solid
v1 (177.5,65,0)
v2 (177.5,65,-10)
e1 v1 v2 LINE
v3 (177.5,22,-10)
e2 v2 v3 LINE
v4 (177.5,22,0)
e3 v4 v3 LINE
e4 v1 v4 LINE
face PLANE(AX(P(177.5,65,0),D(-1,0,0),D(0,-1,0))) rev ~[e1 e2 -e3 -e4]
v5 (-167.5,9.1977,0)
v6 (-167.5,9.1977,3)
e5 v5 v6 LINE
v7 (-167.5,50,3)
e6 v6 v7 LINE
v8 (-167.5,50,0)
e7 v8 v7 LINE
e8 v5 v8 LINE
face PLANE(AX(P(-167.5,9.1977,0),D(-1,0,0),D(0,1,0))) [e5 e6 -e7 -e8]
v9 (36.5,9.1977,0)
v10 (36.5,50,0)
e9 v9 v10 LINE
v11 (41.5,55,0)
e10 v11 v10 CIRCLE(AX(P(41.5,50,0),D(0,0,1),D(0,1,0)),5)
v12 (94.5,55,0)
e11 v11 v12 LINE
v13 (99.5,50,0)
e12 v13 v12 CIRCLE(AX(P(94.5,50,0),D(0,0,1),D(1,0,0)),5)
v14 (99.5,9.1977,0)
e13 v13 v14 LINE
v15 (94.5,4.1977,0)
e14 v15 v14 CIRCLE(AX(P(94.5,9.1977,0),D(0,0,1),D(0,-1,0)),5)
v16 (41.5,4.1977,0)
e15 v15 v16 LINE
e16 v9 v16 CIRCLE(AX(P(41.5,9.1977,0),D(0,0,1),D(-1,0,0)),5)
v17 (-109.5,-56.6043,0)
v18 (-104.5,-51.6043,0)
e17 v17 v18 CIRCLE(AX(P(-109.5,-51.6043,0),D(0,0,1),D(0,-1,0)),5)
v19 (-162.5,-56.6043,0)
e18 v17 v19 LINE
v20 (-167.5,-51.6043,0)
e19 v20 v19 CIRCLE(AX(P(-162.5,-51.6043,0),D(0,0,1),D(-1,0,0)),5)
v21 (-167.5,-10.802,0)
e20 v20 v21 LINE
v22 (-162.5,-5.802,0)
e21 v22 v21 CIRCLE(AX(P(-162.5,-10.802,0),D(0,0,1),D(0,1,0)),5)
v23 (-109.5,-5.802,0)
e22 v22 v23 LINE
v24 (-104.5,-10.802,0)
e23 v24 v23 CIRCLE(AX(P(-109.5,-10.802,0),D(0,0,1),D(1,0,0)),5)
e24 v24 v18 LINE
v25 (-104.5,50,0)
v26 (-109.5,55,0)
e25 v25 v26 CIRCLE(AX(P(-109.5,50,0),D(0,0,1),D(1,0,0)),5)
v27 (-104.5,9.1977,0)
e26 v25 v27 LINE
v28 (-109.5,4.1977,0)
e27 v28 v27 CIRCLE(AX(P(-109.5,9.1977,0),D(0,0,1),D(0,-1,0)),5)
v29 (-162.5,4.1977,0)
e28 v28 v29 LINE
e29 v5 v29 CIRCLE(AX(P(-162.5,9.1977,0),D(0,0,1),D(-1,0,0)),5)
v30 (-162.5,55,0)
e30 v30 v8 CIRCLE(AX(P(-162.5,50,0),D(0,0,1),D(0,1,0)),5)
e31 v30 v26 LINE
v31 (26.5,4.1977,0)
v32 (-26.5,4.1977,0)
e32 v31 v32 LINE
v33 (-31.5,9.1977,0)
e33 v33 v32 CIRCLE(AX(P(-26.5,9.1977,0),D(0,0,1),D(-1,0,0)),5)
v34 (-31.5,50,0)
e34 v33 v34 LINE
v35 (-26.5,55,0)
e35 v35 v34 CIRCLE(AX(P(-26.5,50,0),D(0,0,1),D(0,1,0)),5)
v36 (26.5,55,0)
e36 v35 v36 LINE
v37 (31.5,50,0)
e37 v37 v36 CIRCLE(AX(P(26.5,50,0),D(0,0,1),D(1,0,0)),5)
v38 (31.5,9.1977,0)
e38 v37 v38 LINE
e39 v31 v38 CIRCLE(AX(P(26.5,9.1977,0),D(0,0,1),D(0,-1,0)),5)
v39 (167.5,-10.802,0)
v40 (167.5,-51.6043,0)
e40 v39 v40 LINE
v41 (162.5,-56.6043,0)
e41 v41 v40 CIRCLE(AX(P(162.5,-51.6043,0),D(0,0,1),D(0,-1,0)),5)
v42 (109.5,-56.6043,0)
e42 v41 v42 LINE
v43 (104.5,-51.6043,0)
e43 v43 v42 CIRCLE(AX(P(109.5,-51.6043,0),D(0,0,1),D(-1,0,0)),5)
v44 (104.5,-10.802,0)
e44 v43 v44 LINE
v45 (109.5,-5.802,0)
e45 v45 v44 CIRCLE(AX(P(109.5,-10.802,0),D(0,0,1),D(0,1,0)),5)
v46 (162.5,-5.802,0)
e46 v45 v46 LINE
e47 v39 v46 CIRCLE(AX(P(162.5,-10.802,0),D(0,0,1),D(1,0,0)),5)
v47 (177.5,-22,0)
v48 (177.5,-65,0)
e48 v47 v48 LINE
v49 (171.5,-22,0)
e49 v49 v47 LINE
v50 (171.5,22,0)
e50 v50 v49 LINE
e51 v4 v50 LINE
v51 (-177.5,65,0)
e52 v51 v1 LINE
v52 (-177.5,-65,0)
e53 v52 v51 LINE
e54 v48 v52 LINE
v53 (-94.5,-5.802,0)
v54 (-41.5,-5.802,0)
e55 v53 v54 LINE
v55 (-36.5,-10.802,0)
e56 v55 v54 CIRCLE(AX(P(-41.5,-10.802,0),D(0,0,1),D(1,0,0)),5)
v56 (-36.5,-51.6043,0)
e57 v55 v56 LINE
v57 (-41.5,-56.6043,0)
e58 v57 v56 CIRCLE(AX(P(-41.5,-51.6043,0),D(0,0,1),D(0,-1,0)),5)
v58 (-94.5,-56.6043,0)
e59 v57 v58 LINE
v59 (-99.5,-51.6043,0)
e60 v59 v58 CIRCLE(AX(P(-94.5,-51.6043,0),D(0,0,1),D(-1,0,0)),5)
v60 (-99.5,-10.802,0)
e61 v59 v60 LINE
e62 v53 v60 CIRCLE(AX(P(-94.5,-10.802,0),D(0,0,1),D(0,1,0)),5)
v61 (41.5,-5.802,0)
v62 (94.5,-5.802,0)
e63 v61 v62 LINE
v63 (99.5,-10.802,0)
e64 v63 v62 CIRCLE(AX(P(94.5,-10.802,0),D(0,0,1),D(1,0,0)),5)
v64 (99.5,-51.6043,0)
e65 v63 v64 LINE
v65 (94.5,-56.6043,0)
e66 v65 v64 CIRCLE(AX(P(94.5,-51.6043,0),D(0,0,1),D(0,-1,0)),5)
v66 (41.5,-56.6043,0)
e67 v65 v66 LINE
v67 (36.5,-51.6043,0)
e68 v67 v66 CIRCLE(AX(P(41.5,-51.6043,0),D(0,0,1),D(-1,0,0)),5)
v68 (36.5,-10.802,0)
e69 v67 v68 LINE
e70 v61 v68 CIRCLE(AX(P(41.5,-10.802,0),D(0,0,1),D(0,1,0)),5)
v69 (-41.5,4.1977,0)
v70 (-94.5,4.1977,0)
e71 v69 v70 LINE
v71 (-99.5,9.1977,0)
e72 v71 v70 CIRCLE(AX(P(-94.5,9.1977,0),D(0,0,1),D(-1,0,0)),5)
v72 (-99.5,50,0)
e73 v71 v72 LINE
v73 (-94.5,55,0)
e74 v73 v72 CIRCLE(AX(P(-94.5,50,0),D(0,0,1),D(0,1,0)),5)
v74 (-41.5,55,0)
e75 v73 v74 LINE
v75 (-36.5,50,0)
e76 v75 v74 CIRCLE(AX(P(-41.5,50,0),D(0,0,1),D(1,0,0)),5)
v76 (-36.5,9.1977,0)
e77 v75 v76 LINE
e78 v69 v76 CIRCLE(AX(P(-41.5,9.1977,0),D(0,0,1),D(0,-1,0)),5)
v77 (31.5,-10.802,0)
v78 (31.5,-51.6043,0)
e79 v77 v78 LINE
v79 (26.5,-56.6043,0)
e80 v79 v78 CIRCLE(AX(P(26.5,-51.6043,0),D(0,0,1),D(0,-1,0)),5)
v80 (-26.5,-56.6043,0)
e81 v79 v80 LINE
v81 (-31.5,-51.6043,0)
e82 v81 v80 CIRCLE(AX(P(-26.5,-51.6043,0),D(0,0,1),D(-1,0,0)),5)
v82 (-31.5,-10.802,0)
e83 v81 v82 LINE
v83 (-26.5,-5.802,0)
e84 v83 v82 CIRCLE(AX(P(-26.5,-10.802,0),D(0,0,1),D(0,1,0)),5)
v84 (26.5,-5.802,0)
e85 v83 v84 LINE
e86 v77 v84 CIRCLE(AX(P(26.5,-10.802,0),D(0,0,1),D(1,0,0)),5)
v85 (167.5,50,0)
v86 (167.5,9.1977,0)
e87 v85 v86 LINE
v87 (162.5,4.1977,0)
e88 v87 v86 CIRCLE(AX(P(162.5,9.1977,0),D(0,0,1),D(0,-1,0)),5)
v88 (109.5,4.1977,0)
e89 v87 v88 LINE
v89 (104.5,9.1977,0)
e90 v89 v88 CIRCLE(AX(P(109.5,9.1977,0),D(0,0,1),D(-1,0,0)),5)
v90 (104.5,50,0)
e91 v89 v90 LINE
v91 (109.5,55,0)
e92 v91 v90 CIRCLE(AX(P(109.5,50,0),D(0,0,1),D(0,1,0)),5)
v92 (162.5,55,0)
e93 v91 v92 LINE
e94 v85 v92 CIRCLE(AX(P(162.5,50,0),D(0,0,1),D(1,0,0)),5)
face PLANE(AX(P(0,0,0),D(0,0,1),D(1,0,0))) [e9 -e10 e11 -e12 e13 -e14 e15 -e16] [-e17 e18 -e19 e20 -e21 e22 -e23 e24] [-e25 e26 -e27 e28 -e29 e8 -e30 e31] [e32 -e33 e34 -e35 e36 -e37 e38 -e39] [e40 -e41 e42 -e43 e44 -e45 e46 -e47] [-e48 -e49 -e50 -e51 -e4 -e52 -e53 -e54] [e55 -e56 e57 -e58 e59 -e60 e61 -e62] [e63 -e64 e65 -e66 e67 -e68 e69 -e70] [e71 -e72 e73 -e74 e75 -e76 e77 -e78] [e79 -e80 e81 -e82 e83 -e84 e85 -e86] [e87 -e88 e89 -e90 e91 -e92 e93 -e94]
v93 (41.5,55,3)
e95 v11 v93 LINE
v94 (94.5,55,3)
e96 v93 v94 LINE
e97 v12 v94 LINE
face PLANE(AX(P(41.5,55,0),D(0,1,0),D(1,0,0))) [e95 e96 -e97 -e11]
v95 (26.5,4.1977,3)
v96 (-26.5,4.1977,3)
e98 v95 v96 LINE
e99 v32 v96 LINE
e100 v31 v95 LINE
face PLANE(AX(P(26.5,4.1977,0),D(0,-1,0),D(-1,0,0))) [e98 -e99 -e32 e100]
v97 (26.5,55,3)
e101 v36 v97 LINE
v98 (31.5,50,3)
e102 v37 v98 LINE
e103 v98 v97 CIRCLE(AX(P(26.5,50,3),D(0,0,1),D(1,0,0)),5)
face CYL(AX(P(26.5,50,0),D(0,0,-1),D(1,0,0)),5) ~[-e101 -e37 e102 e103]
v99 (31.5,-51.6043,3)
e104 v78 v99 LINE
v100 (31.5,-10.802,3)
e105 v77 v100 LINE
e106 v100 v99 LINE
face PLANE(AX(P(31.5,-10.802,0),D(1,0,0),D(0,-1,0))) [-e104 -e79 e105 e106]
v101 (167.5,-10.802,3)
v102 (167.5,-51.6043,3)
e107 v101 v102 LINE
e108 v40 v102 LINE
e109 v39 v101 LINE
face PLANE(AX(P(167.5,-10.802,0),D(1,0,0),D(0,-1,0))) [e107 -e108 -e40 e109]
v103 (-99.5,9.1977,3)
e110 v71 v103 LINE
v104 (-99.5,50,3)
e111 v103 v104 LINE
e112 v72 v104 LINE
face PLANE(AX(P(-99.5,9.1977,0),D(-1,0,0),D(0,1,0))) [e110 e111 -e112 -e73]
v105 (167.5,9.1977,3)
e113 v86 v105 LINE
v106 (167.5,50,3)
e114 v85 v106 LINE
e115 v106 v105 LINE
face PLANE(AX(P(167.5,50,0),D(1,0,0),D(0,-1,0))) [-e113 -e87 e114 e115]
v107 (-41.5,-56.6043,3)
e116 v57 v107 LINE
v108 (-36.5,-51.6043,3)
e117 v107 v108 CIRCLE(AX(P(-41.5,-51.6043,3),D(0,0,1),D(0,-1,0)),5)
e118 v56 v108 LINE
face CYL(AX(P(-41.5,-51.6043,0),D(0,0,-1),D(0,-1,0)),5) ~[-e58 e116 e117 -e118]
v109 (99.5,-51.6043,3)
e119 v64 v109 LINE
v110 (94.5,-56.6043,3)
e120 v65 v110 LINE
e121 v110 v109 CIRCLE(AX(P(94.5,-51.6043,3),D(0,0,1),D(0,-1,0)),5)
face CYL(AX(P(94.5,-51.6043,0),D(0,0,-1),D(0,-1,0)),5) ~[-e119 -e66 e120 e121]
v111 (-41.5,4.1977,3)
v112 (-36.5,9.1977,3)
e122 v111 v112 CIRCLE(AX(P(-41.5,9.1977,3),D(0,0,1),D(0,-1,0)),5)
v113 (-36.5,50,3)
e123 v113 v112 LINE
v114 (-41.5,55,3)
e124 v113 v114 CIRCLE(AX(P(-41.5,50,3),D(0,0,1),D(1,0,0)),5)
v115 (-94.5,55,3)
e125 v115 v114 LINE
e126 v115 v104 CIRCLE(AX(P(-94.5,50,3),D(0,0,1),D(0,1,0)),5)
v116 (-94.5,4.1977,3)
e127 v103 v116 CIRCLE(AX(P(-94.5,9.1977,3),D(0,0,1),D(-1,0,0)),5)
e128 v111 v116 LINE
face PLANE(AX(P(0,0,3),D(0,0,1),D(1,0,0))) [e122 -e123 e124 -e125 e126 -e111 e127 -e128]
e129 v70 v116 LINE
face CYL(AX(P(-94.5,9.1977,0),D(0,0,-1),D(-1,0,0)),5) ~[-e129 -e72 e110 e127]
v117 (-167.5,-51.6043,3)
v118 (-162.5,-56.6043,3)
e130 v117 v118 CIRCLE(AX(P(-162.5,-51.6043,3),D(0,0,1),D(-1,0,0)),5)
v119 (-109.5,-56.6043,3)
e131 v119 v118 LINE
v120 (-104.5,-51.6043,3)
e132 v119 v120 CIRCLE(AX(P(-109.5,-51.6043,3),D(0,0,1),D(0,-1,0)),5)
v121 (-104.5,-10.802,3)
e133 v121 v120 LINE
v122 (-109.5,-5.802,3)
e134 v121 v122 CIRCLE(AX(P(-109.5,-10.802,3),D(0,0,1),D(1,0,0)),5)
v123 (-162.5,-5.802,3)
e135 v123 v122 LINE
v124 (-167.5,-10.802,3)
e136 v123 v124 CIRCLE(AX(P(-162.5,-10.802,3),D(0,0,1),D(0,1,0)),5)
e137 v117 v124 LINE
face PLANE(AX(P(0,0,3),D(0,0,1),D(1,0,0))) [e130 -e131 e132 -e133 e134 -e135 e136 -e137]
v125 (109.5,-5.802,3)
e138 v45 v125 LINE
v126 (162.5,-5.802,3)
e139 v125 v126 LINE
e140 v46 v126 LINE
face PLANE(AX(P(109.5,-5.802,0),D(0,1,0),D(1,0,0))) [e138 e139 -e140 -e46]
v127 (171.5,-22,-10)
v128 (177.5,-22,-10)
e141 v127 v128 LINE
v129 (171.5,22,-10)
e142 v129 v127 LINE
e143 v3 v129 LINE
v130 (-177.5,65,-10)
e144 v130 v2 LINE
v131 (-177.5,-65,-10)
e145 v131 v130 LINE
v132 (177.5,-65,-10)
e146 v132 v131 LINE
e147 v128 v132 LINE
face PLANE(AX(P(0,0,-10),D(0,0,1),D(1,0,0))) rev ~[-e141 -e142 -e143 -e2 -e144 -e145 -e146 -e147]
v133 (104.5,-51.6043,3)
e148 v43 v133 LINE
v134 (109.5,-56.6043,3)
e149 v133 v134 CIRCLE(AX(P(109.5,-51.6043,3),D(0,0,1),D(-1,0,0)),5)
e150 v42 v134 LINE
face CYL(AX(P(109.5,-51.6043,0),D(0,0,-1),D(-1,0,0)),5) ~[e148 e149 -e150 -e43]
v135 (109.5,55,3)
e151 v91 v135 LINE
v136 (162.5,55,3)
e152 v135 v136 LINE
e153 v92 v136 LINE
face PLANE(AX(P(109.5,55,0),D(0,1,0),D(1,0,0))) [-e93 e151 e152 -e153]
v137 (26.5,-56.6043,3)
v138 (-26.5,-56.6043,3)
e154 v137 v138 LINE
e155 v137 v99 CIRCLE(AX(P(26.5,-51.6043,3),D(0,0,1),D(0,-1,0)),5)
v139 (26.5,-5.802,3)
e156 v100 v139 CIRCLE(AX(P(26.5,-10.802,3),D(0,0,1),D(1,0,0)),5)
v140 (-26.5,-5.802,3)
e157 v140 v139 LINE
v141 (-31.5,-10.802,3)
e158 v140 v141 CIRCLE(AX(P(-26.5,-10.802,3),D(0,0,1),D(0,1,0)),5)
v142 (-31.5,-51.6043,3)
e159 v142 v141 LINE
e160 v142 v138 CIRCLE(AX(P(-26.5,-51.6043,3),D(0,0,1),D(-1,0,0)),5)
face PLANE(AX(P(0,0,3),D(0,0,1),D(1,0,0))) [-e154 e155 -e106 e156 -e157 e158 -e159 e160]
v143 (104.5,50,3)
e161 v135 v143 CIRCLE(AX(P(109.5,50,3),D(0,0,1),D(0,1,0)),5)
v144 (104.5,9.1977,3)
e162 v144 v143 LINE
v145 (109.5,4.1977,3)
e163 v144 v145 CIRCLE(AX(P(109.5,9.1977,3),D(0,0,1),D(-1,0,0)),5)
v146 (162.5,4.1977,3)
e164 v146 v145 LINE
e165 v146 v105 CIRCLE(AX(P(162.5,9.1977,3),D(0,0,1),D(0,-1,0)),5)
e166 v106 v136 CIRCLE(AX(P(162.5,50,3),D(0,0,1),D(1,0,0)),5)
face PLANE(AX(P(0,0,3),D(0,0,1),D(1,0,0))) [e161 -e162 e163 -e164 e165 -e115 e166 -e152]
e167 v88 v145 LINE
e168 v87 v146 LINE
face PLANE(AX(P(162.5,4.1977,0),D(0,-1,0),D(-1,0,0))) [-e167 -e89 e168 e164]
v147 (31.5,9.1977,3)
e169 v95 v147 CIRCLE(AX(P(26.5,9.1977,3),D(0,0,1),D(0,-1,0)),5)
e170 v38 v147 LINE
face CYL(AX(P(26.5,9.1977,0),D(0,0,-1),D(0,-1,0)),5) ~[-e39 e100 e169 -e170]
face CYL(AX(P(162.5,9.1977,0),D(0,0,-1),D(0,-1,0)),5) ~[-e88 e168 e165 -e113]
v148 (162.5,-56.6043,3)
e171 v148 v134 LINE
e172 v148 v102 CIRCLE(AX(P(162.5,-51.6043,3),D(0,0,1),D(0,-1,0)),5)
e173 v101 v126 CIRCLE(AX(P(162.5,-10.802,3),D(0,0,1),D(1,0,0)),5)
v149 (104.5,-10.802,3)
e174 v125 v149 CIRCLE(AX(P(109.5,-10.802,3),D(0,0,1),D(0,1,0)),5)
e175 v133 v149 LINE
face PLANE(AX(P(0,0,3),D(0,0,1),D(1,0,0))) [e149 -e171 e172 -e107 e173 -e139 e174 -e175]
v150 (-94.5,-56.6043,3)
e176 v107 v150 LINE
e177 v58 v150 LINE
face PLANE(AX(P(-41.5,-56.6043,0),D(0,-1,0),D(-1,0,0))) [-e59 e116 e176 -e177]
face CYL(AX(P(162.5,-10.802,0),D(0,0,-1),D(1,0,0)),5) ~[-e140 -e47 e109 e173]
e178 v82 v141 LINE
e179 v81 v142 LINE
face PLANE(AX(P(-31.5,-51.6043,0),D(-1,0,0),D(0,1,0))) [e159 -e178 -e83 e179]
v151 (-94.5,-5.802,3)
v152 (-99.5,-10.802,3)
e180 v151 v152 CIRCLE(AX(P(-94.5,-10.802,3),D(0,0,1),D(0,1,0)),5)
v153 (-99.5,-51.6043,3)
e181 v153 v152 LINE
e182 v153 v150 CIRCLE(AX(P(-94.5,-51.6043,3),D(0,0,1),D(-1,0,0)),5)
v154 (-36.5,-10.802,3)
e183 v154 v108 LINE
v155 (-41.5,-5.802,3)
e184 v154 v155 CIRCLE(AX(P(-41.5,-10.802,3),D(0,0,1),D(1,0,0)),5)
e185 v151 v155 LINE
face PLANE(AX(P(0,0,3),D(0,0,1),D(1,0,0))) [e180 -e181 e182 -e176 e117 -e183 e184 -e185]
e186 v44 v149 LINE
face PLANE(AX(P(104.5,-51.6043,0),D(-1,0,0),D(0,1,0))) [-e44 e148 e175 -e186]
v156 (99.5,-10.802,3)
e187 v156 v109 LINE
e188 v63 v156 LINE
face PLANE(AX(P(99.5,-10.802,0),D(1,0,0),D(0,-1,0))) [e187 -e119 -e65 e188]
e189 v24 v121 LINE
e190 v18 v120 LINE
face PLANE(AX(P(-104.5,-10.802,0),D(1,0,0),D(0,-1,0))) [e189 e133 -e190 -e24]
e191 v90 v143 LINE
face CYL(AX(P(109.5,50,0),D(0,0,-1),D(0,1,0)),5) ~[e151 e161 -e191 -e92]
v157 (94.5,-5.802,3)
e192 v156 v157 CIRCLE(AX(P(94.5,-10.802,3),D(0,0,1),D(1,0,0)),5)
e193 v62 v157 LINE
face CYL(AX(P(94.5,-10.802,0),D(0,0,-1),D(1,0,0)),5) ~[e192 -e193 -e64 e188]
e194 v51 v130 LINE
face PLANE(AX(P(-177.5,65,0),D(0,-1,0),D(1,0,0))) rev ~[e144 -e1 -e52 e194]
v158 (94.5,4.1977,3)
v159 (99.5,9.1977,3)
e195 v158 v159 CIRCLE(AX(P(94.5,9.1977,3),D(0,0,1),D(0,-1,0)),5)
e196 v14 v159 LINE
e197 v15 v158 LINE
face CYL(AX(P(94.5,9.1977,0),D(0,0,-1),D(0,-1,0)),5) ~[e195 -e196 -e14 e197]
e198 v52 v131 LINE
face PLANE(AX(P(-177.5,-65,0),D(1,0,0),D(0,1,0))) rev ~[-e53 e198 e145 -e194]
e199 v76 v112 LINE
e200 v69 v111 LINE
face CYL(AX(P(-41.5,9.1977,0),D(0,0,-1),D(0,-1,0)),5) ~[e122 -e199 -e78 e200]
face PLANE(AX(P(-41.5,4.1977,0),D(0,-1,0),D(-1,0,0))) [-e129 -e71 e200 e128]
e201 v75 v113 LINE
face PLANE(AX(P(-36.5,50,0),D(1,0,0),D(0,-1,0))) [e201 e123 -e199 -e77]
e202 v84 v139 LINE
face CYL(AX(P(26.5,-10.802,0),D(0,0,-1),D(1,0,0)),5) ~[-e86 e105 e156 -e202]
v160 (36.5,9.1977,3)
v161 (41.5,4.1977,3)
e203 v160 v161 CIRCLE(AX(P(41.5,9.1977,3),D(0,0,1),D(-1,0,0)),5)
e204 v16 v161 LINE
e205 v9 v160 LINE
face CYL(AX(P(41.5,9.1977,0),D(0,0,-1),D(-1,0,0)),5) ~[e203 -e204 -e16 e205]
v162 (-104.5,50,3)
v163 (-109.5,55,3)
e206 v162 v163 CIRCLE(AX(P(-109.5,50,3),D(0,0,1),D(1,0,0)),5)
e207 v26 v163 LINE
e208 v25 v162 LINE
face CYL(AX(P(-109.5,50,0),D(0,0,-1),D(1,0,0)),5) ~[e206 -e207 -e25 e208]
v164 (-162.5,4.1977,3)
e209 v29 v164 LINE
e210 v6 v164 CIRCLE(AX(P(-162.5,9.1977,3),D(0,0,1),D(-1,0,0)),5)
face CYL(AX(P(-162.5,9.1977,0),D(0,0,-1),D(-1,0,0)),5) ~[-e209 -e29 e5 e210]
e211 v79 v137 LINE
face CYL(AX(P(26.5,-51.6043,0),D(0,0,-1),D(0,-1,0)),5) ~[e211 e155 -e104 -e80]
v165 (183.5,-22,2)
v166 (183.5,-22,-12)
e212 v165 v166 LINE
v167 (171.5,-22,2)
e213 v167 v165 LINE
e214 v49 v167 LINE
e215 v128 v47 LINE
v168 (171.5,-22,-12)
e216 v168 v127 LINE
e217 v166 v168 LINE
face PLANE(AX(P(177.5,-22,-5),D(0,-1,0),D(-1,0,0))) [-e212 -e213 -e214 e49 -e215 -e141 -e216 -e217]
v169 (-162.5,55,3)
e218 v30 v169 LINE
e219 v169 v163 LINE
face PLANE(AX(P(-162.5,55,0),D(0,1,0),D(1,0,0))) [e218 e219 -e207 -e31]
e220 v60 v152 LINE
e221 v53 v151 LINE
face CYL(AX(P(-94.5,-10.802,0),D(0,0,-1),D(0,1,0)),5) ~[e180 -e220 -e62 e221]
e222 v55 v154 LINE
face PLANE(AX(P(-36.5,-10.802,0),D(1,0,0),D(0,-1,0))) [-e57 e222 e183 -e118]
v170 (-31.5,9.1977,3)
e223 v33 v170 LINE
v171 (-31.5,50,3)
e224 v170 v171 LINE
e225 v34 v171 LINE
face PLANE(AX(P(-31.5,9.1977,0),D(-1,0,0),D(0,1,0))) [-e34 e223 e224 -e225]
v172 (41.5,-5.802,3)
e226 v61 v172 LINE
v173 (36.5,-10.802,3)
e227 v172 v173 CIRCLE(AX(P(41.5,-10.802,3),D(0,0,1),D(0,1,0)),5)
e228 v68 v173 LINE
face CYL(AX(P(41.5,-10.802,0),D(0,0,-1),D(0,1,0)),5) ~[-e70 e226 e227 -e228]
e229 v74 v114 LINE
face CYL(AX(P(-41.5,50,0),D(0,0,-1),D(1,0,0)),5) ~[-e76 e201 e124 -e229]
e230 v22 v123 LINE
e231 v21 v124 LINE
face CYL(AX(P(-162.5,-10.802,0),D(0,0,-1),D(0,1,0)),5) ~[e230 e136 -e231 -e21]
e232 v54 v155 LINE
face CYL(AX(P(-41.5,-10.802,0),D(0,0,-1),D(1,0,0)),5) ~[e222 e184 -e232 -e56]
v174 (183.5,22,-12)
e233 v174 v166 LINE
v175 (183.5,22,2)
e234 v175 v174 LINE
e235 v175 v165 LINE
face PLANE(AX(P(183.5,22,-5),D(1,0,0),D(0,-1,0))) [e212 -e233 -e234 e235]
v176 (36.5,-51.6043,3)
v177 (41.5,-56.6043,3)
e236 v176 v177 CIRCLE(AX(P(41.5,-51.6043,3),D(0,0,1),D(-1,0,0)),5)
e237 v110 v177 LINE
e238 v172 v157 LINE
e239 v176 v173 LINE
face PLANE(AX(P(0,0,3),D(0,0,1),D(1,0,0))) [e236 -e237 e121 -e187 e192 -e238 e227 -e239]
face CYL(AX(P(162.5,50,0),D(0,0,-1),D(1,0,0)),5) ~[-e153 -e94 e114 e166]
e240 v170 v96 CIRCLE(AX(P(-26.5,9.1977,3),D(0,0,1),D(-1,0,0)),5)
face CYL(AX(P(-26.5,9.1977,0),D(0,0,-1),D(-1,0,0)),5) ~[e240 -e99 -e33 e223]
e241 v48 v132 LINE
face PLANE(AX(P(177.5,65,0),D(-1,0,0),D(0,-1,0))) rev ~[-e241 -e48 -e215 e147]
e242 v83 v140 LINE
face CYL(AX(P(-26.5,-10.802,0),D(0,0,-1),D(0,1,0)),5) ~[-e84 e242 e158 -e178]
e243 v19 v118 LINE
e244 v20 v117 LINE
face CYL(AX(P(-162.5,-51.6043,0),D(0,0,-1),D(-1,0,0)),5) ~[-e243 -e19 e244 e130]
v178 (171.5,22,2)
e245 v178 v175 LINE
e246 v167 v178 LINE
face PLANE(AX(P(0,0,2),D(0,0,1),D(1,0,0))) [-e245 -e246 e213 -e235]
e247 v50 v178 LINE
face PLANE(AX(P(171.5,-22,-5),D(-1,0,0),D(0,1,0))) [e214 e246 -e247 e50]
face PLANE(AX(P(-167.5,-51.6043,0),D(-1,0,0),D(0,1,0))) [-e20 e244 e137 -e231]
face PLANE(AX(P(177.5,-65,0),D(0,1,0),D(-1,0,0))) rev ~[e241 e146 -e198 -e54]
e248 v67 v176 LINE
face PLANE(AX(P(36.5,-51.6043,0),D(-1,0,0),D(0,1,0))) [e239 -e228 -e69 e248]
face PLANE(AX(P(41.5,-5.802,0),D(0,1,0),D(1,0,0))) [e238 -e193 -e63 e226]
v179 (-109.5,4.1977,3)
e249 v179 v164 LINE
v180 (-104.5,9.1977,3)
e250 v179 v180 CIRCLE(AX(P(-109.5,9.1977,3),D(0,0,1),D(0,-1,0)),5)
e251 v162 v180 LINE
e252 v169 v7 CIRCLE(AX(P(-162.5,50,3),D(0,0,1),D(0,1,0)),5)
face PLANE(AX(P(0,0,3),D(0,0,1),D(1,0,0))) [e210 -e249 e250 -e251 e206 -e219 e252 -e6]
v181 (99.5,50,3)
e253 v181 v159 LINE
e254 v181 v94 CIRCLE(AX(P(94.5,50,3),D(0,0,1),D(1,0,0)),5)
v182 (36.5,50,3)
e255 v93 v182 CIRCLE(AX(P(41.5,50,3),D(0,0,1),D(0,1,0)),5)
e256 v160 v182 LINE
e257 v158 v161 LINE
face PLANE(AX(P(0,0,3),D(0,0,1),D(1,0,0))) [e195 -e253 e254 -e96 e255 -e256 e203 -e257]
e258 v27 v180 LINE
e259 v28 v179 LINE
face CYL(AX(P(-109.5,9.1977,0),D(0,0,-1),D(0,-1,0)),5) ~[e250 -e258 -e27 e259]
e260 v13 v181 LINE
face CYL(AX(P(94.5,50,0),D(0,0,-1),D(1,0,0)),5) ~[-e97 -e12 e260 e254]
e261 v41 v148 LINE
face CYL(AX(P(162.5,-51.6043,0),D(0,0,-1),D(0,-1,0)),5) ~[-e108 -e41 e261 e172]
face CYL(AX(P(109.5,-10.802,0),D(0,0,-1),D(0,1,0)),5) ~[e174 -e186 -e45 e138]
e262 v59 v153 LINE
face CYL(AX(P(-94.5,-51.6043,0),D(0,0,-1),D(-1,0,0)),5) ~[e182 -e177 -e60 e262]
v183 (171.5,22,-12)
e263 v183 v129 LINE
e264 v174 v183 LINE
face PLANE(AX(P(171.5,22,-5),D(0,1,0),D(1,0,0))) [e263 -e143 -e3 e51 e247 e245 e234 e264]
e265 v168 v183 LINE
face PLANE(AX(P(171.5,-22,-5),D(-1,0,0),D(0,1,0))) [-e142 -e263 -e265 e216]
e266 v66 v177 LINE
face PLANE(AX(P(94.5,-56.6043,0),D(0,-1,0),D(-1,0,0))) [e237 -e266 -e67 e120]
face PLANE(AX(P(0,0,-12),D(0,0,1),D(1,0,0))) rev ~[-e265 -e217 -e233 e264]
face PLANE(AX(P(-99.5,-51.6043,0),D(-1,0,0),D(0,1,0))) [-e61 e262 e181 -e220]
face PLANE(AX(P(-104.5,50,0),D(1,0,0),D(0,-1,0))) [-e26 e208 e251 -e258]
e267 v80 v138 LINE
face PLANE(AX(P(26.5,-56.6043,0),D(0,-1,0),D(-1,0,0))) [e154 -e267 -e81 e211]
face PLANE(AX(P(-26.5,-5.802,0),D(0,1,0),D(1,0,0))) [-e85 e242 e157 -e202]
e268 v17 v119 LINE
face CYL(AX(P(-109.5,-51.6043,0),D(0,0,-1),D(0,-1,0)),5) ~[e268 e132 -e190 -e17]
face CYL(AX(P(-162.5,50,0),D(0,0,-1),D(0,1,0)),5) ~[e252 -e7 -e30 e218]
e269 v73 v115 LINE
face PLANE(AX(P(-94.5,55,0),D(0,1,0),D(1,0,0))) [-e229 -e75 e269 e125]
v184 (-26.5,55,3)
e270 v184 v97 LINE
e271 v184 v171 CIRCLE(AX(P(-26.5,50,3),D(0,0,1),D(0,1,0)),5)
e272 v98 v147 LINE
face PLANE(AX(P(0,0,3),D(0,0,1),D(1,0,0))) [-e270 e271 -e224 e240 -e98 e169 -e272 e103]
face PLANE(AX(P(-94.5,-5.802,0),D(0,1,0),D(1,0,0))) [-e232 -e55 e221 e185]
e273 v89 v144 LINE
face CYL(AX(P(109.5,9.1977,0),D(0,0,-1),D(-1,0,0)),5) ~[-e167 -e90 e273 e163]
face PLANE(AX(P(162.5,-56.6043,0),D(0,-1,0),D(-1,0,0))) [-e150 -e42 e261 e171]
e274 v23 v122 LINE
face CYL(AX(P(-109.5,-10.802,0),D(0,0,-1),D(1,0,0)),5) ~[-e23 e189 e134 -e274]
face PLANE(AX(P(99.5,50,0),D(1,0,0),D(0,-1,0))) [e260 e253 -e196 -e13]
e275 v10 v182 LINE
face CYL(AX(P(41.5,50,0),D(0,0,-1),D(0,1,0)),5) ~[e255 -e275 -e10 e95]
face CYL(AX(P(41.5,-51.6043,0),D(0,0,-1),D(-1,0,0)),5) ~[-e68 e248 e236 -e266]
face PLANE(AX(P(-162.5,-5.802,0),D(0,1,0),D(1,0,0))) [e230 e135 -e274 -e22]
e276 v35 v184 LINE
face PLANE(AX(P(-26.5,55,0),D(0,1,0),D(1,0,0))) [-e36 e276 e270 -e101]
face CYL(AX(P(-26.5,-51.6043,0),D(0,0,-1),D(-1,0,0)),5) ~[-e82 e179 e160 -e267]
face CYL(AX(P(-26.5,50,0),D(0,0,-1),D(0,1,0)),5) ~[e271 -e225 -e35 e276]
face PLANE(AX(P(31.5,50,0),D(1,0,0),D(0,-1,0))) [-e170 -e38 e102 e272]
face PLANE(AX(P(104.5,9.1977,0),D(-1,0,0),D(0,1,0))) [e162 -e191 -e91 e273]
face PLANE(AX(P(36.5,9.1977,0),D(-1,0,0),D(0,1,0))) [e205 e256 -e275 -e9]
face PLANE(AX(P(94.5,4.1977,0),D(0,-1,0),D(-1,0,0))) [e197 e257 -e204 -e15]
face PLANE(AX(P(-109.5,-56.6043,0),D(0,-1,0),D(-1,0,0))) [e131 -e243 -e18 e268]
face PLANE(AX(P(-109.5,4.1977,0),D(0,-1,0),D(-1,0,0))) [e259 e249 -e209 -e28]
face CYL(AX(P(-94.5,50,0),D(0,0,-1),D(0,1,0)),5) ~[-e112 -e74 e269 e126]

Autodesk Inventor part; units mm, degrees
ref_plane "YZ Plane" through (0, 0, 0) normal (1, 0, 0) x (0, 1, 0)
ref_plane "XZ Plane" through (0, 0, 0) normal (0, 1, 0) x (-1, 0, 0)
sketch "Sketch1" plane through (0, 0, 0) normal (0, 0, 1) x (1, 0, 0)
  line L0 (-177.5, 65) -> (177.5, 65)
  line L1 (177.5, 65) -> (177.5, -65)
  line L2 (177.5, -65) -> (-177.5, -65)
  line L3 (-177.5, -65) -> (-177.5, 65)
  line L4 (-177.5, 65) -> (177.5, -65) construction
  line L5 (177.5, 65) -> (-177.5, -65) construction
  point P0 (0, 0)
  dimension "d0" = 355
  dimension "d1" = 130
extrude "Extrusion1" add sketch "Sketch1" against normal blind 10
sketch "Sketch2" plane through (0, 0, 0) normal (0, 0, 1) x (1, 0, 0)
  line L0 (-162.5, 55) -> (-109.5, 55)
  line L1 (-104.5, 50) -> (-104.5, 9.1977)
  line L2 (-109.5, 4.1977) -> (-162.5, 4.1977)
  line L3 (-167.5, 9.1977) -> (-167.5, 50)
  line L4 (-177.5, 65) -> (177.5, 65) projected
  line L5 (-177.5, -65) -> (-177.5, 65) projected
  arc A0 (-162.5, 55) -> (-167.5, 50) centre (-162.5, 50) ccw
  arc A1 (-104.5, 50) -> (-109.5, 55) centre (-109.5, 50) ccw
  arc A2 (-109.5, 4.1977) -> (-104.5, 9.1977) centre (-109.5, 9.1977) ccw
  arc A3 (-167.5, 9.1977) -> (-162.5, 4.1977) centre (-162.5, 9.1977) ccw
  line L6 (-94.5, 55) -> (-41.5, 55)
  line L7 (-36.5, 50) -> (-36.5, 9.1977)
  line L8 (-41.5, 4.1977) -> (-94.5, 4.1977)
  line L9 (-99.5, 9.1977) -> (-99.5, 50)
  arc A4 (-94.5, 55) -> (-99.5, 50) centre (-94.5, 50) ccw
  arc A5 (-36.5, 50) -> (-41.5, 55) centre (-41.5, 50) ccw
  arc A6 (-41.5, 4.1977) -> (-36.5, 9.1977) centre (-41.5, 9.1977) ccw
  arc A7 (-99.5, 9.1977) -> (-94.5, 4.1977) centre (-94.5, 9.1977) ccw
  line L10 (-26.5, 55) -> (26.5, 55)
  line L11 (31.5, 50) -> (31.5, 9.1977)
  line L12 (26.5, 4.1977) -> (-26.5, 4.1977)
  line L13 (-31.5, 9.1977) -> (-31.5, 50)
  arc A8 (-26.5, 55) -> (-31.5, 50) centre (-26.5, 50) ccw
  arc A9 (31.5, 50) -> (26.5, 55) centre (26.5, 50) ccw
  arc A10 (26.5, 4.1977) -> (31.5, 9.1977) centre (26.5, 9.1977) ccw
  arc A11 (-31.5, 9.1977) -> (-26.5, 4.1977) centre (-26.5, 9.1977) ccw
  line L14 (41.5, 55) -> (94.5, 55)
  line L15 (99.5, 50) -> (99.5, 9.1977)
  line L16 (94.5, 4.1977) -> (41.5, 4.1977)
  line L17 (36.5, 9.1977) -> (36.5, 50)
  arc A12 (41.5, 55) -> (36.5, 50) centre (41.5, 50) ccw
  arc A13 (99.5, 50) -> (94.5, 55) centre (94.5, 50) ccw
  arc A14 (94.5, 4.1977) -> (99.5, 9.1977) centre (94.5, 9.1977) ccw
  arc A15 (36.5, 9.1977) -> (41.5, 4.1977) centre (41.5, 9.1977) ccw
  line L18 (109.5, 55) -> (162.5, 55)
  line L19 (167.5, 50) -> (167.5, 9.1977)
  line L20 (162.5, 4.1977) -> (109.5, 4.1977)
  line L21 (104.5, 9.1977) -> (104.5, 50)
  arc A16 (109.5, 55) -> (104.5, 50) centre (109.5, 50) ccw
  arc A17 (167.5, 50) -> (162.5, 55) centre (162.5, 50) ccw
  arc A18 (162.5, 4.1977) -> (167.5, 9.1977) centre (162.5, 9.1977) ccw
  arc A19 (104.5, 9.1977) -> (109.5, 4.1977) centre (109.5, 9.1977) ccw
  line L22 (-162.5, -5.802) -> (-109.5, -5.802)
  line L23 (-167.5, -51.6043) -> (-167.5, -10.802)
  line L24 (-109.5, -56.6043) -> (-162.5, -56.6043)
  line L25 (-104.5, -10.802) -> (-104.5, -51.6043)
  line L26 (-99.5, -51.6043) -> (-99.5, -10.802)
  line L27 (-94.5, -5.802) -> (-41.5, -5.802)
  line L28 (-36.5, -10.802) -> (-36.5, -51.6043)
  line L29 (-41.5, -56.6043) -> (-94.5, -56.6043)
  line L30 (-31.5, -51.6043) -> (-31.5, -10.802)
  line L31 (-26.5, -5.802) -> (26.5, -5.802)
  line L32 (31.5, -10.802) -> (31.5, -51.6043)
  line L33 (26.5, -56.6043) -> (-26.5, -56.6043)
  line L34 (41.5, -5.802) -> (94.5, -5.802)
  line L35 (36.5, -51.6043) -> (36.5, -10.802)
  line L36 (94.5, -56.6043) -> (41.5, -56.6043)
  line L37 (99.5, -10.802) -> (99.5, -51.6043)
  line L38 (104.5, -51.6043) -> (104.5, -10.802)
  line L39 (109.5, -5.802) -> (162.5, -5.802)
  line L40 (167.5, -10.802) -> (167.5, -51.6043)
  line L41 (162.5, -56.6043) -> (109.5, -56.6043)
  arc A20 (-162.5, -5.802) -> (-167.5, -10.802) centre (-162.5, -10.802) ccw
  arc A21 (-104.5, -10.802) -> (-109.5, -5.802) centre (-109.5, -10.802) ccw
  arc A22 (-167.5, -51.6043) -> (-162.5, -56.6043) centre (-162.5, -51.6043) ccw
  arc A23 (-109.5, -56.6043) -> (-104.5, -51.6043) centre (-109.5, -51.6043) ccw
  arc A24 (-99.5, -51.6043) -> (-94.5, -56.6043) centre (-94.5, -51.6043) ccw
  arc A25 (-94.5, -5.802) -> (-99.5, -10.802) centre (-94.5, -10.802) ccw
  arc A26 (-36.5, -10.802) -> (-41.5, -5.802) centre (-41.5, -10.802) ccw
  arc A27 (-26.5, -5.802) -> (-31.5, -10.802) centre (-26.5, -10.802) ccw
  arc A28 (-41.5, -56.6043) -> (-36.5, -51.6043) centre (-41.5, -51.6043) ccw
  arc A29 (-31.5, -51.6043) -> (-26.5, -56.6043) centre (-26.5, -51.6043) ccw
  arc A30 (31.5, -10.802) -> (26.5, -5.802) centre (26.5, -10.802) ccw
  arc A31 (26.5, -56.6043) -> (31.5, -51.6043) centre (26.5, -51.6043) ccw
  arc A32 (36.5, -51.6043) -> (41.5, -56.6043) centre (41.5, -51.6043) ccw
  arc A33 (41.5, -5.802) -> (36.5, -10.802) centre (41.5, -10.802) ccw
  arc A34 (99.5, -10.802) -> (94.5, -5.802) centre (94.5, -10.802) ccw
  arc A35 (94.5, -56.6043) -> (99.5, -51.6043) centre (94.5, -51.6043) ccw
  arc A36 (104.5, -51.6043) -> (109.5, -56.6043) centre (109.5, -51.6043) ccw
  arc A37 (109.5, -5.802) -> (104.5, -10.802) centre (109.5, -10.802) ccw
  arc A38 (167.5, -10.802) -> (162.5, -5.802) centre (162.5, -10.802) ccw
  arc A39 (162.5, -56.6043) -> (167.5, -51.6043) centre (162.5, -51.6043) ccw
  line L42 (171.5, 22) -> (183.5, 22)
  line L43 (183.5, 22) -> (183.5, -22)
  line L44 (183.5, -22) -> (171.5, -22)
  line L45 (171.5, -22) -> (171.5, 22)
  line L46 (177.5, 65) -> (177.5, -65) projected
  line L47 (171.5, 22) -> (183.5, -22) construction
  line L48 (183.5, 22) -> (171.5, -22) construction
  point P0 (0, 0)
  point P1 (-167.5, 55)
  point P2 (-104.5, 55)
  point P3 (-167.5, 4.1977)
  point P4 (-99.5, 55)
  point P5 (-36.5, 55)
  point P6 (-99.5, 4.1977)
  point P7 (-31.5, 55)
  point P8 (31.5, 55)
  point P9 (-31.5, 4.1977)
  point P10 (36.5, 55)
  point P11 (99.5, 55)
  point P12 (36.5, 4.1977)
  point P13 (104.5, 55)
  point P14 (167.5, 55)
  point P15 (104.5, 4.1977)
  point P16 (-167.5, -5.802)
  point P17 (-104.5, -5.802)
  point P18 (-167.5, -56.6043)
  point P19 (-99.5, -5.802)
  point P20 (-99.5, -56.6043)
  point P21 (-36.5, -5.802)
  point P22 (-31.5, -5.802)
  point P23 (-31.5, -56.6043)
  point P24 (31.5, -5.802)
  point P25 (36.5, -5.802)
  point P26 (99.5, -5.802)
  point P27 (36.5, -56.6043)
  point P28 (104.5, -5.802)
  point P29 (104.5, -56.6043)
  point P30 (167.5, -5.802)
  point P31 (177.5, 0)
  dimension "d4" = 10
  dimension "d5" = 10
  dimension "d7" = 50.8023
  dimension "d8" = 63
  dimension "d9" = 5
  dimension "d12" = 68
  dimension "d19" = 60.802
  dimension "d24" = 12
  dimension "d25" = 44
extrude "Extrusion2" add sketch "Sketch2" along normal blind 3 contours L0 A1 L1 A2 L2 A3 L3 A0 | L6 A5 L7 A6 L8 A7 L9 A4 | L10 A9 L11 A10 L12 A11 L13 A8 | L14 A13 L15 A14 L16 A15 L17 A12 | L18 A17 L19 A18 L20 A19 L21 A16 | L22 A21 L25 A23 L24 A22 L23 A20 | L26 A25 L27 A26 L28 A28 L29 A24 | L30 A27 L31 A30 L32 A31 L33 A29 | L34 A34 L37 A35 L36 A32 L35 A33 | L38 A37 L39 A38 L40 A39 L41 A36
ref_plane "Work Plane1" through (0, 0, -5) normal (0, 0, 1) x (1, 0, 0)
sketch "Sketch3" plane through (0, 0, -5) normal (0, 0, 1) x (1, 0, 0)
  line L0 (171.5, 22) -> (183.5, 22)
  line L1 (183.5, 22) -> (183.5, -22)
  line L2 (183.5, -22) -> (171.5, -22)
  line L3 (171.5, -22) -> (171.5, 22)
  line L4 (177.5, 65) -> (177.5, -65) projected
  line L5 (171.5, 22) -> (183.5, -22) construction
  line L6 (183.5, 22) -> (171.5, -22) construction
  point P0 (0, 0)
  point P1 (177.5, 0)
  dimension "d31" = 12
  dimension "d32" = 44
extrude "Extrusion3" add sketch "Sketch3" along normal mid plane 14
properties part number "Solar_panel"
